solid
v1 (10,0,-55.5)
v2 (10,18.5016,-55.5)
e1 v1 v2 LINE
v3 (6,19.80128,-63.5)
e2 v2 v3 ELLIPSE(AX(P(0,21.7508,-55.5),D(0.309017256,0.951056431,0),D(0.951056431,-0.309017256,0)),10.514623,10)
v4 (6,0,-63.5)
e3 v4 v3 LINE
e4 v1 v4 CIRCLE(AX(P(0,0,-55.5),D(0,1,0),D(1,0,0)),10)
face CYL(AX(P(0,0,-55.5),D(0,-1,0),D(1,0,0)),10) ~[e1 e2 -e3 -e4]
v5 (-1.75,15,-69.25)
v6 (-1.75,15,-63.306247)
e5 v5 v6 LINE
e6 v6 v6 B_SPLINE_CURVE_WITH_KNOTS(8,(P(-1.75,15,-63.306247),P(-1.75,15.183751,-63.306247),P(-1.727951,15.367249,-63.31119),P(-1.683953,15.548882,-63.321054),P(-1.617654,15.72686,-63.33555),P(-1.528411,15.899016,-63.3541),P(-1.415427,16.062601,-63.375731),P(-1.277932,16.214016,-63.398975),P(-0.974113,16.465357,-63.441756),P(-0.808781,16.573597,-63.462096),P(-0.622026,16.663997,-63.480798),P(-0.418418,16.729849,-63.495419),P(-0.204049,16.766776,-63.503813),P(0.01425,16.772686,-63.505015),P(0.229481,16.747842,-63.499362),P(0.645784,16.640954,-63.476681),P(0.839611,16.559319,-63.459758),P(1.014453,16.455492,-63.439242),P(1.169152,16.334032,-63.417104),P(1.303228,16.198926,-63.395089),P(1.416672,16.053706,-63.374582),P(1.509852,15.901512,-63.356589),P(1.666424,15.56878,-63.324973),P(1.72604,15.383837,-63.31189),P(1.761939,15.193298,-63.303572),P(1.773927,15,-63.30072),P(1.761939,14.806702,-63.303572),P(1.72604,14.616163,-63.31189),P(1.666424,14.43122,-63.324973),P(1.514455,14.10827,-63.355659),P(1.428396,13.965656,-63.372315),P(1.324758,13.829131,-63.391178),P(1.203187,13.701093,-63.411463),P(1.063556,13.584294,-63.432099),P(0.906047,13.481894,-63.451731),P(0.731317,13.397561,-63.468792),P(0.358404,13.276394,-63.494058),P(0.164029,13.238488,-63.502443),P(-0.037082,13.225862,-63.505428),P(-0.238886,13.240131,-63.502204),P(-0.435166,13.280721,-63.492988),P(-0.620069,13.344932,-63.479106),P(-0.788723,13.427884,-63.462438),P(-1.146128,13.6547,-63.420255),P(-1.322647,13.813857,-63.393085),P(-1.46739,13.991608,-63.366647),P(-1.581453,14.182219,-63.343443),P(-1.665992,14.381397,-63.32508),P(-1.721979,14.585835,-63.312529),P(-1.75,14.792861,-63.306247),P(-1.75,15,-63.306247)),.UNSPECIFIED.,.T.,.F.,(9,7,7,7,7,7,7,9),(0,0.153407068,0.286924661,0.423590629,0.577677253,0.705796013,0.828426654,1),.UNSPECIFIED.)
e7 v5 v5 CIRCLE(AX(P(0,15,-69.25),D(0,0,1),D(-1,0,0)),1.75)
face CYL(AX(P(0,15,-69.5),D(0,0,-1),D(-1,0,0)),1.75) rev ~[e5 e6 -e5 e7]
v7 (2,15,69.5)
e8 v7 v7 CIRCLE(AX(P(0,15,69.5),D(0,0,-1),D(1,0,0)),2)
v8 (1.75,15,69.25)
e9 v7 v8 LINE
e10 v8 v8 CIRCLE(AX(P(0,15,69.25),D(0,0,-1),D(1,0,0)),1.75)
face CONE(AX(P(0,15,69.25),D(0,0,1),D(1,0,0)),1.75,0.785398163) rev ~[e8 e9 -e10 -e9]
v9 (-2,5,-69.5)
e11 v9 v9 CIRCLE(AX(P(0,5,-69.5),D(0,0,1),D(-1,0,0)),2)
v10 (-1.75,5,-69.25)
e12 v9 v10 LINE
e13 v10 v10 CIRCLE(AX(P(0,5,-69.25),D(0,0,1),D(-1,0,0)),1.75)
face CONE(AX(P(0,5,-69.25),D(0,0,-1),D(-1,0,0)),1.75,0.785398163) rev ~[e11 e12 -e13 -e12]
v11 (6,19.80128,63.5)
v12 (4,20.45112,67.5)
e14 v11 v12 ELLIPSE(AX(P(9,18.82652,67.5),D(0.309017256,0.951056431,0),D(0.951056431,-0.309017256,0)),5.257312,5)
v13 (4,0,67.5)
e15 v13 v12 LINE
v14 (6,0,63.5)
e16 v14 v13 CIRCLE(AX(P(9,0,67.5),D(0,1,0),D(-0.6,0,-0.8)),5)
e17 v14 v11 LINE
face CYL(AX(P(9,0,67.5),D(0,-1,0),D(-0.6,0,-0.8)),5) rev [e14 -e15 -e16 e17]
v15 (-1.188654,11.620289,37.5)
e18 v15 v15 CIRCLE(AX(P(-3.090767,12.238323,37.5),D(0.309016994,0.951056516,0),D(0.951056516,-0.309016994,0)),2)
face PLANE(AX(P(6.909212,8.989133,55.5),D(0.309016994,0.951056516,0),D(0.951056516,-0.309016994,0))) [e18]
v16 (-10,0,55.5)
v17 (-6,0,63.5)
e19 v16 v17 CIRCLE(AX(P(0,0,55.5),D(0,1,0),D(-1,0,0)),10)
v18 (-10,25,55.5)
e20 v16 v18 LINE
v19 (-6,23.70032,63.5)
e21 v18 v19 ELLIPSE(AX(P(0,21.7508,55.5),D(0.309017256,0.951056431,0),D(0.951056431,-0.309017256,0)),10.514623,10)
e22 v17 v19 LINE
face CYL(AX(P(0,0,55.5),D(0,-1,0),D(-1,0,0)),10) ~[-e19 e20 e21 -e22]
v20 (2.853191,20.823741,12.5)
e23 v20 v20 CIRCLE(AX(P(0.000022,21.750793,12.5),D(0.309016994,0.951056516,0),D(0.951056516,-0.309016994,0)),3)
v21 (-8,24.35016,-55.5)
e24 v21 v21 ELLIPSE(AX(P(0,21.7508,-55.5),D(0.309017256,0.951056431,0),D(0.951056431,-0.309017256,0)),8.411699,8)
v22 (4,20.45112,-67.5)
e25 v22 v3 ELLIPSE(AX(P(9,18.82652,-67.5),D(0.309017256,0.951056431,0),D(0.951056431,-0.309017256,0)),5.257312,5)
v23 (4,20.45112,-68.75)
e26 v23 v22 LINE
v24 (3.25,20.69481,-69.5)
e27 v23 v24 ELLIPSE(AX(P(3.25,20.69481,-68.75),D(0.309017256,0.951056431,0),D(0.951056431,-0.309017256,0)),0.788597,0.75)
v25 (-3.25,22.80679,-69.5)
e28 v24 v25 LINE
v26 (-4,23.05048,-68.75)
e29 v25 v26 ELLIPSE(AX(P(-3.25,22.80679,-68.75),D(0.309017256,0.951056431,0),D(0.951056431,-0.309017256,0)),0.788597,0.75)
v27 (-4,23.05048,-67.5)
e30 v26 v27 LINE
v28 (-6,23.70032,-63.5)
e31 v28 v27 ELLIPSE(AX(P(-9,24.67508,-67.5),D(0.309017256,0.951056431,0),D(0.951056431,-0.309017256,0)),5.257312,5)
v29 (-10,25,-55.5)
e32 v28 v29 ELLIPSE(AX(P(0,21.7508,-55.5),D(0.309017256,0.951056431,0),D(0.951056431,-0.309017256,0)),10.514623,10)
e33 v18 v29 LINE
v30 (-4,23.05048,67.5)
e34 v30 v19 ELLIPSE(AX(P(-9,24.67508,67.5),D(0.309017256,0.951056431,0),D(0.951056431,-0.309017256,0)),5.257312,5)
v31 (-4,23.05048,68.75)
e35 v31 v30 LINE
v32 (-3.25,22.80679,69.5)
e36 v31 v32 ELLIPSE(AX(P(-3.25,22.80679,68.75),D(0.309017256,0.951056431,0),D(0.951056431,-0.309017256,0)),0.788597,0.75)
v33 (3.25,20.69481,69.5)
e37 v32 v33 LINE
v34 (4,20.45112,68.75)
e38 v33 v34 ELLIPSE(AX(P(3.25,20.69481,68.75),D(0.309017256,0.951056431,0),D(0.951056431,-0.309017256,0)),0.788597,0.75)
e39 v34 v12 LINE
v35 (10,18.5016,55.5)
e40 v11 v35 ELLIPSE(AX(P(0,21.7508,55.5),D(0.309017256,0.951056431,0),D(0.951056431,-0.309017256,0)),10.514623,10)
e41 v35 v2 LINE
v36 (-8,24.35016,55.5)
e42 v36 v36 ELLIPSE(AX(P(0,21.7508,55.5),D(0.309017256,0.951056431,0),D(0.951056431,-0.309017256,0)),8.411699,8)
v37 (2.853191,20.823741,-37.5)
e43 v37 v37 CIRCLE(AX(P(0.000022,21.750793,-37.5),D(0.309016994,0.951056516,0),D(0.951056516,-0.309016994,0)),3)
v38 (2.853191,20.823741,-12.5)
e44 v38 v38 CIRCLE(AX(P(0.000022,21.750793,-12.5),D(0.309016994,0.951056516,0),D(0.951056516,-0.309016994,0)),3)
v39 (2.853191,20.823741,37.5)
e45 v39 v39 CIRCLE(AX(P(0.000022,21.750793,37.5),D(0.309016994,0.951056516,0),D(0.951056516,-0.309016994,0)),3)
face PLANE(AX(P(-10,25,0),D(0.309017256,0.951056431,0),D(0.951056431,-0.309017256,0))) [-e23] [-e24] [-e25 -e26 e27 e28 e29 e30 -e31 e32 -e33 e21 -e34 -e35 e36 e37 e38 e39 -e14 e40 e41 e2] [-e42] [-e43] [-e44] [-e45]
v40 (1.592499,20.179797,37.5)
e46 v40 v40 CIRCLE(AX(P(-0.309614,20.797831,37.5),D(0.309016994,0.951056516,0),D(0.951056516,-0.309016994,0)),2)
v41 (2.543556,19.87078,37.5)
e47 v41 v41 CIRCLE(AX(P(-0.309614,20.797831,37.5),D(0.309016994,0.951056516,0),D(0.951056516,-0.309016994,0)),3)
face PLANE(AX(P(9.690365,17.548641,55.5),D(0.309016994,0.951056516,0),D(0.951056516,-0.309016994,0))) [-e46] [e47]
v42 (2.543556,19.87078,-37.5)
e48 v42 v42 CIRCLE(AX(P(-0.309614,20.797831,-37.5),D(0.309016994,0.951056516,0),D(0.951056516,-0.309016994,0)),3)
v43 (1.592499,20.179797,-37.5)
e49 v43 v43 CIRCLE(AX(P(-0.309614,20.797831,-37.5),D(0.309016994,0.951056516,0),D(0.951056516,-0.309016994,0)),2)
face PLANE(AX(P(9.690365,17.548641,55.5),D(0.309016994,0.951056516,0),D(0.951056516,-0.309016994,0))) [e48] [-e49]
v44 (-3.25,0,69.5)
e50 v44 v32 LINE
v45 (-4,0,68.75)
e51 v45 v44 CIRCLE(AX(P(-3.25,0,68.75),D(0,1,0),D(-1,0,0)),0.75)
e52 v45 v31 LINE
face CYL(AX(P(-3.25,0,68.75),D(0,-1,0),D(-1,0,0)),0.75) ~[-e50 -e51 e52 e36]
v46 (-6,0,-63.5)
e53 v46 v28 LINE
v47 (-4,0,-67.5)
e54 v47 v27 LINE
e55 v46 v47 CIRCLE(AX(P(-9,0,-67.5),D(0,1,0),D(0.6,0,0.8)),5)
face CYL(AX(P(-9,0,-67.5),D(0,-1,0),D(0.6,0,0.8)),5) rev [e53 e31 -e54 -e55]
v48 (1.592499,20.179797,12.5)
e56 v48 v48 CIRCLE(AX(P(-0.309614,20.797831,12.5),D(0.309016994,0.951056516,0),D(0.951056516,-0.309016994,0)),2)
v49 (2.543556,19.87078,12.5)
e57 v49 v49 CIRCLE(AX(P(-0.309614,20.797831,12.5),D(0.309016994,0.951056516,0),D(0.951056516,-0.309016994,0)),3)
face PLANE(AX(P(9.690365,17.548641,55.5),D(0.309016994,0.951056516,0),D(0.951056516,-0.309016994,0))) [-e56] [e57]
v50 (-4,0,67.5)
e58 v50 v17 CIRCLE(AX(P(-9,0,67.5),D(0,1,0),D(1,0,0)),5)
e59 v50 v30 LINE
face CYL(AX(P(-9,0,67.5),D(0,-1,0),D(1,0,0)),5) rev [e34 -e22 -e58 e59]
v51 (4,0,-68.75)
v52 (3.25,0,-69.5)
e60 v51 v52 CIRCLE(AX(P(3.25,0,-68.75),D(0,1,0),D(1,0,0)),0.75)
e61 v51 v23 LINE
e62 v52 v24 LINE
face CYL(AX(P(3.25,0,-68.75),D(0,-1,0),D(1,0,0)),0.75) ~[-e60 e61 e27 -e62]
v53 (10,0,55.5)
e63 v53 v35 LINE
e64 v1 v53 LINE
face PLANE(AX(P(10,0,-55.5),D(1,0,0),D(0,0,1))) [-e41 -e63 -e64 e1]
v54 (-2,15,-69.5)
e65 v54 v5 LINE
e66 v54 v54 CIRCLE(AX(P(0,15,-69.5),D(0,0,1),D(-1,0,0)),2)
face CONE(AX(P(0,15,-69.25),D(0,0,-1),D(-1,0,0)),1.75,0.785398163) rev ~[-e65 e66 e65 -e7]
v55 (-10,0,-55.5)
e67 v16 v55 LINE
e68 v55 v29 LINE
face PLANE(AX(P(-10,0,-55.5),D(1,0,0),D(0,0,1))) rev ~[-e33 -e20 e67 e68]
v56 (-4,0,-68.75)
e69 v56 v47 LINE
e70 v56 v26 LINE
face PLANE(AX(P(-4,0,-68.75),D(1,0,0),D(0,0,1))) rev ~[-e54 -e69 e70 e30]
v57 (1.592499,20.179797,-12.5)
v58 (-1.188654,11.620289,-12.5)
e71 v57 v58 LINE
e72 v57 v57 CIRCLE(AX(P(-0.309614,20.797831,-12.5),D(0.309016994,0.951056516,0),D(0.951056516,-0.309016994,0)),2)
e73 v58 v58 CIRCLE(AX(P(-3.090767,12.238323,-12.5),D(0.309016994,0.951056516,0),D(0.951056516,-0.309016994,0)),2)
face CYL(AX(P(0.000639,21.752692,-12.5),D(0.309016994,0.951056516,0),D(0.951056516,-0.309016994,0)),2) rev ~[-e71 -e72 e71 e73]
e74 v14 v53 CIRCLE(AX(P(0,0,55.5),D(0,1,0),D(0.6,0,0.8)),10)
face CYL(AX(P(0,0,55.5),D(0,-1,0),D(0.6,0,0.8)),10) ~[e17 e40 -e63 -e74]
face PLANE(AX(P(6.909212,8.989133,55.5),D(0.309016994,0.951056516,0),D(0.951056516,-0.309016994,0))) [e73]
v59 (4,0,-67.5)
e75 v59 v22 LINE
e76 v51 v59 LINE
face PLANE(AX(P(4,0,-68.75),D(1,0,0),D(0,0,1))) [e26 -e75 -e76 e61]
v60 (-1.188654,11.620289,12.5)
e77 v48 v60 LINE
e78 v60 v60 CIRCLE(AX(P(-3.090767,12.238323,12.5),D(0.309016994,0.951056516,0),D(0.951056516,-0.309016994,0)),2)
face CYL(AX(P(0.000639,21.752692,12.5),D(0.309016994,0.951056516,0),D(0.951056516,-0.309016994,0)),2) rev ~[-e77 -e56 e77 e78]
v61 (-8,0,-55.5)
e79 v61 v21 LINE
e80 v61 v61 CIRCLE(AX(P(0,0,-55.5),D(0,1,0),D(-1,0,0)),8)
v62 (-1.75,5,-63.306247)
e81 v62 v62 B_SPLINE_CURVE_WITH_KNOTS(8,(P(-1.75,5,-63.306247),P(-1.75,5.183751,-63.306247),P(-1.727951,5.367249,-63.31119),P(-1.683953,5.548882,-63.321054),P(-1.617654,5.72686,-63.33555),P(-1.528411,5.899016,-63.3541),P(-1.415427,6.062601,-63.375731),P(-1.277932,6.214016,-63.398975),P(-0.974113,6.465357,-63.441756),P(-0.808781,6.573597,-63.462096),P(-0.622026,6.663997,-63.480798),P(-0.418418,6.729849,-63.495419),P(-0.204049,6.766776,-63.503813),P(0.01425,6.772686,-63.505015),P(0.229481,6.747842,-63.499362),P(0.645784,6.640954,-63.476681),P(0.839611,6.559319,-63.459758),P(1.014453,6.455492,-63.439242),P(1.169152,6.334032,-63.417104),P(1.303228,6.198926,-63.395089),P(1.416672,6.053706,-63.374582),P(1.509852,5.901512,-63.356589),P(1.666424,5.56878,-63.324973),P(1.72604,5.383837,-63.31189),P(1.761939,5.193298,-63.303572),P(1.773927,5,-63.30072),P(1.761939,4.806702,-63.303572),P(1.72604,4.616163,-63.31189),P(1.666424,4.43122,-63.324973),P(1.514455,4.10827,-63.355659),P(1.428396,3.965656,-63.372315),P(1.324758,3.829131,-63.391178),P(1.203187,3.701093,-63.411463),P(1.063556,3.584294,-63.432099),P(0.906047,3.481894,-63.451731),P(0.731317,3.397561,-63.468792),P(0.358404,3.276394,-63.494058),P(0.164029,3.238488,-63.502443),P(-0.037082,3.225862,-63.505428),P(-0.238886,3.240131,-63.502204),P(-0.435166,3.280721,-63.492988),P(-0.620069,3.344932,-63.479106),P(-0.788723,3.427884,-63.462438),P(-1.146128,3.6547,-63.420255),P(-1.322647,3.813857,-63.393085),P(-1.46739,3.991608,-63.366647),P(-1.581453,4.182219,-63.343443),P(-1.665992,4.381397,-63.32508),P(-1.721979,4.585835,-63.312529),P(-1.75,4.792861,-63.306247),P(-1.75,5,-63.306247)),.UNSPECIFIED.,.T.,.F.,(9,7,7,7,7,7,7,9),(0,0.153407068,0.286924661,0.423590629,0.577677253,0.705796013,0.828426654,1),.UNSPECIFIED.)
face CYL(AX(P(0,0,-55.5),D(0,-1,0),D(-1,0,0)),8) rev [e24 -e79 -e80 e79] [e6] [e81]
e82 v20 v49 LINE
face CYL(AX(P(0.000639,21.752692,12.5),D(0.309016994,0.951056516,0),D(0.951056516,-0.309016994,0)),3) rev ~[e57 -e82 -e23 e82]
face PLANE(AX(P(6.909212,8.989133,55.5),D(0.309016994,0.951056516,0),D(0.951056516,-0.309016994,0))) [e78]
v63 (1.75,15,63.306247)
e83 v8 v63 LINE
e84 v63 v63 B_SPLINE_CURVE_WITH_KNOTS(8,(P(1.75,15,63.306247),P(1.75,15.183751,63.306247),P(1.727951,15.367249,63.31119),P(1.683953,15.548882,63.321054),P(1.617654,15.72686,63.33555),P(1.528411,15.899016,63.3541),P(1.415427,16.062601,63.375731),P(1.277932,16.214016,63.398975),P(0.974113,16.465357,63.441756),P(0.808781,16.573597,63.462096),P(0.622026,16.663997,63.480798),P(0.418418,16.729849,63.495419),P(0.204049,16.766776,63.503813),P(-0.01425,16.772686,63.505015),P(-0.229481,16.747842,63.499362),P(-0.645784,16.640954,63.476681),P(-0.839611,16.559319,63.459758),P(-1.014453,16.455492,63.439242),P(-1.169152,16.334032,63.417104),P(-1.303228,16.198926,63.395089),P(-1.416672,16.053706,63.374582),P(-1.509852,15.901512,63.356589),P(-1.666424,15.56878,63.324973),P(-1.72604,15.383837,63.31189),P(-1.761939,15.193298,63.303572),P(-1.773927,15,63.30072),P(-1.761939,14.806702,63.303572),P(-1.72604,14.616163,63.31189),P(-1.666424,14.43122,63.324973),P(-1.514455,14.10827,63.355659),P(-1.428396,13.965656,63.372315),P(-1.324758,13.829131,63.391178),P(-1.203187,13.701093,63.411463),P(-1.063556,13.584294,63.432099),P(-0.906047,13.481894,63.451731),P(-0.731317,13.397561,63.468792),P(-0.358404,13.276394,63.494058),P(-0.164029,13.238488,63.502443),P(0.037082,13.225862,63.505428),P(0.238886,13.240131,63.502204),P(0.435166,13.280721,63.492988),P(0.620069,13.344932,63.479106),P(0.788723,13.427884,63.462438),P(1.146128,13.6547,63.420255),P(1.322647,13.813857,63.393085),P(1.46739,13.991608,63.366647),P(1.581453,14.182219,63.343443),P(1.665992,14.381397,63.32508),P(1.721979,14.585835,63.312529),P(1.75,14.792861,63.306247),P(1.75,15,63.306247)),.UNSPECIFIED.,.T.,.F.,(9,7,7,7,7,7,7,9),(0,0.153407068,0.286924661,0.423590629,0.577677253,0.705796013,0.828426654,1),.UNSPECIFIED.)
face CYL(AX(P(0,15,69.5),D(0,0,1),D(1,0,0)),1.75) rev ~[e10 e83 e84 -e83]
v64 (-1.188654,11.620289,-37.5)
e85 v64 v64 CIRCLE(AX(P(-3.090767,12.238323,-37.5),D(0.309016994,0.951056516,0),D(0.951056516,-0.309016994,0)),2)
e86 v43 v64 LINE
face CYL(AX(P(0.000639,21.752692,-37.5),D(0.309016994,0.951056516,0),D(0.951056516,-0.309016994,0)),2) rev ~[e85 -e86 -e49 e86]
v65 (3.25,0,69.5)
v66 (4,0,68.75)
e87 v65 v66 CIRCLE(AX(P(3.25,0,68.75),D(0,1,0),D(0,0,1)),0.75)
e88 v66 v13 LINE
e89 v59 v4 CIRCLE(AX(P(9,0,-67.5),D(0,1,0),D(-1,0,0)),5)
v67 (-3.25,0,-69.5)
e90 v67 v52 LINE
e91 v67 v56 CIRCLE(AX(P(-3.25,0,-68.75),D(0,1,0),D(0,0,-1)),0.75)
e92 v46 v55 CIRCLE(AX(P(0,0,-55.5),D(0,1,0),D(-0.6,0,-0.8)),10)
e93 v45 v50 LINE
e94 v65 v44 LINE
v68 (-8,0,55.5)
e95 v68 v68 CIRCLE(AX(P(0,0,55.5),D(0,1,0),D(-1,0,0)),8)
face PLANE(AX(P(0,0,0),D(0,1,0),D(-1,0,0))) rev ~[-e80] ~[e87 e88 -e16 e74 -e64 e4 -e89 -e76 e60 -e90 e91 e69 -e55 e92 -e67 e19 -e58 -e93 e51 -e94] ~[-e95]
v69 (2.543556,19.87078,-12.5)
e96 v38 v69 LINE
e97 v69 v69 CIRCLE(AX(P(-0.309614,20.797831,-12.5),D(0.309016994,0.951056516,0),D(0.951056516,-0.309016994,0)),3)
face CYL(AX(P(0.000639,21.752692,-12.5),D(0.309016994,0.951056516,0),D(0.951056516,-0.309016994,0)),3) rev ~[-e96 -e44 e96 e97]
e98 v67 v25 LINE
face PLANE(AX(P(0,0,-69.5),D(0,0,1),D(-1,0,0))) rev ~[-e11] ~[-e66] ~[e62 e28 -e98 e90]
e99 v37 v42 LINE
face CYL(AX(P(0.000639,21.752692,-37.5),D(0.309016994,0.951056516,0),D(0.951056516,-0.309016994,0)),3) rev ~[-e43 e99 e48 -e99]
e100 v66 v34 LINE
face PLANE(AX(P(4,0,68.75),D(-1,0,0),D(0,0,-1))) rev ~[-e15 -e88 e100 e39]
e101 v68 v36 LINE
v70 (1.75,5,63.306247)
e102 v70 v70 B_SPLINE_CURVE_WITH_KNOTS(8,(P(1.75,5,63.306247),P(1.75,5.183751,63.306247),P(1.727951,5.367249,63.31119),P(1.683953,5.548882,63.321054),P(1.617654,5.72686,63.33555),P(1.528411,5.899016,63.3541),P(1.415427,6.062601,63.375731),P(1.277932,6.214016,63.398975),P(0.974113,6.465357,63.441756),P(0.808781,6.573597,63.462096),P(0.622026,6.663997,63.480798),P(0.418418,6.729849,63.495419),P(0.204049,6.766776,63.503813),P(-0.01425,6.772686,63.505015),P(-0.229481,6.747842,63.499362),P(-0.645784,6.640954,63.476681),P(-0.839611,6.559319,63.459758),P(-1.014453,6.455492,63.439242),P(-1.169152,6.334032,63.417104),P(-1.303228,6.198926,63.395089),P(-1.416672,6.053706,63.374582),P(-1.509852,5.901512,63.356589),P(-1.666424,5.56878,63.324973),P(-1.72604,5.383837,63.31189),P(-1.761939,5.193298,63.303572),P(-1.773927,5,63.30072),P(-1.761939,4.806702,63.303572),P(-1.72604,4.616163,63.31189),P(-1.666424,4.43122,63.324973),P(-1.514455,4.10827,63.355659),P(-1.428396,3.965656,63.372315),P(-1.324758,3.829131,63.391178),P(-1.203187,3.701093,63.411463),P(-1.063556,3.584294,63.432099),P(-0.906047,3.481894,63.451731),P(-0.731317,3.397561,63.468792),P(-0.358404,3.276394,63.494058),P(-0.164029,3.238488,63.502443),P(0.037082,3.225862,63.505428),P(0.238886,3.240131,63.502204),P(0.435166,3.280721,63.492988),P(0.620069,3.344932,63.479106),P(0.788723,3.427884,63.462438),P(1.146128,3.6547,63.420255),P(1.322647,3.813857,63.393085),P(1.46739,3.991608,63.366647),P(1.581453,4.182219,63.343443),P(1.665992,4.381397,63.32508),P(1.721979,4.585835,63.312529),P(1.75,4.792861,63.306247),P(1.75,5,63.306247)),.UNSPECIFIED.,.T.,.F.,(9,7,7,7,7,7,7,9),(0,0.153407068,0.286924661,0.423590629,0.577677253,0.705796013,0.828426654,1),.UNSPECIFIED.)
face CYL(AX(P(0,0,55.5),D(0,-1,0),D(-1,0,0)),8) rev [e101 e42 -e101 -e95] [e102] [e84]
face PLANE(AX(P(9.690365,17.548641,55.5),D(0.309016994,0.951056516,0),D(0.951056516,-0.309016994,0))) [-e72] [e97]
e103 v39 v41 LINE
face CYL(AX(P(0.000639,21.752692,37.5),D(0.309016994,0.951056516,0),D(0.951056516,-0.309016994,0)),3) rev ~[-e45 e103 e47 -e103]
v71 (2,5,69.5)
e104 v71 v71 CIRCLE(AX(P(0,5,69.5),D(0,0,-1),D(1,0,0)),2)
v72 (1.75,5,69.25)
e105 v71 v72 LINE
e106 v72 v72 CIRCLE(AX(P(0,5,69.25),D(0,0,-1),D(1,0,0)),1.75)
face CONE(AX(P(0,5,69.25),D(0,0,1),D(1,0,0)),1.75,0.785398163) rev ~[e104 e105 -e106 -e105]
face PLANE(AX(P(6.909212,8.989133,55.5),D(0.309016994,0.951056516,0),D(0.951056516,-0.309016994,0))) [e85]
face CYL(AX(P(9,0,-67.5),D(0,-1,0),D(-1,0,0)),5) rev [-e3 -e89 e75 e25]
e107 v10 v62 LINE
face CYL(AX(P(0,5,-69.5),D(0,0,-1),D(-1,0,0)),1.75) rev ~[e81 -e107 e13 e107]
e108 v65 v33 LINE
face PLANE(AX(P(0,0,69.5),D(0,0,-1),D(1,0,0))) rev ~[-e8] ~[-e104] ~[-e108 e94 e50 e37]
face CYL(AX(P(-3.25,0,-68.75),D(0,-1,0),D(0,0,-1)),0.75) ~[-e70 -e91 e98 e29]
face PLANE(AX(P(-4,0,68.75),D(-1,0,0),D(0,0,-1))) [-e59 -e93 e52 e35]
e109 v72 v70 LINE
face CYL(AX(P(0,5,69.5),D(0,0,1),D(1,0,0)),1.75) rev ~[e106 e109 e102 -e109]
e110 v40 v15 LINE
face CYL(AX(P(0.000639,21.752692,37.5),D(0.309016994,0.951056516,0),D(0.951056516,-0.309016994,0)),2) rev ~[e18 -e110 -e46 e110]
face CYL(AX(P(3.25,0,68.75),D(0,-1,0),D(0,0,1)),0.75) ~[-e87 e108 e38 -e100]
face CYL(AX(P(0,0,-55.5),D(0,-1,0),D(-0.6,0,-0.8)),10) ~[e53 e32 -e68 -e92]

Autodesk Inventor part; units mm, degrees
ref_plane "YZ Plane" through (0, 0, 0) normal (1, 0, 0) x (0, 1, 0)
ref_plane "XZ Plane" through (0, 0, 0) normal (0, 1, 0) x (-1, 0, 0)
ref_plane "XY Plane" through (0, 0, 0) normal (0, 0, 1) x (1, 0, 0)
sketch "Sketch1" plane through (0, 0, 0) normal (0, 1, 0) x (-1, 0, 0)
  line L0 (0, 0) -> (0, -55.5) construction
  circle A0 centre (0, -55.5) radius 8
  line L1 (0, 0) -> (10, 0) construction
  line L2 (0, 0) -> (-10, 0) construction
  line L3 (10, -55.5) -> (10, 0)
  line L4 (-10, -55.5) -> (-10, 0)
  line L5 (0, 0) -> (0, -12.5) construction
  line L6 (0, -12.5) -> (0, -37.5) construction
  line L7 (0, -65.5) -> (0, -69.5) construction
  line L8 (0, -69.5) -> (3.25, -69.5)
  line L9 (4, -68.75) -> (4, -67.5)
  line L10 (0, -69.5) -> (-3.25, -69.5)
  line L11 (-4, -68.75) -> (-4, -67.5)
  arc A1 (-10, -55.5) -> (-6, -63.5) centre (0, -55.5) ccw
  arc A2 (6, -63.5) -> (10, -55.5) centre (0, -55.5) ccw
  arc A3 (6, -63.5) -> (4, -67.5) centre (9, -67.5) ccw
  arc A4 (-4, -67.5) -> (-6, -63.5) centre (-9, -67.5) ccw
  arc A5 (-4, -68.75) -> (-3.25, -69.5) centre (-3.25, -68.75) ccw
  arc A6 (3.25, -69.5) -> (4, -68.75) centre (3.25, -68.75) ccw
  line L12 (0, 0) -> (0, 55.5) construction
  circle A7 centre (0, 55.5) radius 8
  line L13 (10, 55.5) -> (10, 0)
  line L14 (-10, 55.5) -> (-10, 0)
  line L15 (0, 0) -> (0, 12.5) construction
  line L16 (0, 12.5) -> (0, 37.5) construction
  line L17 (0, 65.5) -> (0, 69.5) construction
  line L18 (0, 69.5) -> (3.25, 69.5)
  line L19 (4, 68.75) -> (4, 67.5)
  line L20 (0, 69.5) -> (-3.25, 69.5)
  line L21 (-4, 68.75) -> (-4, 67.5)
  arc A8 (-6, 63.5) -> (-10, 55.5) centre (0, 55.5) ccw
  arc A9 (10, 55.5) -> (6, 63.5) centre (0, 55.5) ccw
  arc A10 (4, 67.5) -> (6, 63.5) centre (9, 67.5) ccw
  arc A11 (-6, 63.5) -> (-4, 67.5) centre (-9, 67.5) ccw
  arc A12 (-3.25, 69.5) -> (-4, 68.75) centre (-3.25, 68.75) ccw
  arc A13 (4, 68.75) -> (3.25, 69.5) centre (3.25, 68.75) ccw
  point P0 (4, -69.5)
  point P1 (4, -64.6652)
  point P2 (-4, -69.5)
  point P3 (-4, -64.6652)
  point P4 (4, 69.5)
  point P5 (4, 64.6652)
  point P6 (-4, 69.5)
  point P7 (-4, 64.6652)
  dimension "d0" = 55.5
  dimension "d1" = 16
  dimension "d3" = 10
  dimension "d4" = 10
  dimension "d6" = 12.5
  dimension "d7" = 25
  dimension "d10" = 4
  dimension "d11" = 4
  dimension "d12" = 4
  dimension "d13" = 5
  dimension "d14" = 0.75
extrude "Extrusion1" add sketch "Sketch1" along normal blind 25
sketch "Sketch2" plane through (0, 0, 0) normal (0, 0, 1) x (1, 0, 0)
  line L0 (-10, 25) -> (10, 18.5016)
  line L1 (10, 0) -> (10, 25) projected
  line L2 (-10, 25) -> (11.0292, 25) construction
  line L3 (10, 18.5016) -> (10, 25)
  line L4 (10, 25) -> (-10, 25)
  point P0 (0, 0)
  dimension "d17" = 18
extrude "Extrusion2" cut sketch "Sketch2" along normal through all both and the other way through all
sketch "Sketch3" plane through (10, 18.5016, 55.5) normal (0.309, 0.9511, 0) x (0.9511, -0.309, 0)
  ellipse E0 centre (-10.5146, 0) end of major axis (-2.1029, 0) minor radius 8 projected
  ellipse E1 centre (-10.5146, 111) end of major axis (-2.1029, 111) minor radius 8 projected
  line L0 (-10.5146, 0) -> (-10.5146, 111) construction
  line L1 (-10.5146, 55.5) -> (-10.5146, 43)
  line L2 (-10.5146, 43) -> (-10.5146, 18)
  line L3 (-10.5146, 55.5) -> (-10.5146, 68)
  line L4 (-10.5146, 68) -> (-10.5146, 93)
  circle A0 centre (-10.5146, 18) radius 2
  circle A1 centre (-10.5146, 43) radius 2
  circle A2 centre (-10.5146, 68) radius 2
  circle A3 centre (-10.5146, 93) radius 2
  point P0 (-3.7933, 55.5)
  dimension "d20" = 12.5
  dimension "d21" = 25
  dimension "d22" = 12.5
  dimension "d23" = 25
  dimension "d24" = 4
  dimension "d25" = 4
  dimension "d26" = 4
  dimension "d27" = 4
extrude "Extrusion3" cut sketch "Sketch3" against normal blind 10 contours A0 | A1 L2 L1 | L1 L2 A1 | A3 | A2 L4 L3 | L3 L4 A2
sketch "Sketch4" plane through (10, 18.5016, 55.5) normal (0.309, 0.9511, 0) x (0.9511, -0.309, 0)
  circle A0 centre (-10.5146, 18) radius 2 projected
  circle A1 centre (-10.5146, 18) radius 3
  circle A2 centre (-10.5146, 43) radius 2 projected
  circle A3 centre (-10.5146, 43) radius 3
  circle A4 centre (-10.5146, 68) radius 2 projected
  circle A5 centre (-10.5146, 68) radius 3
  circle A6 centre (-10.5146, 93) radius 2 projected
  circle A7 centre (-10.5146, 93) radius 3
  point P0 (-3.7933, 55.5)
  dimension "d30" = 6
  dimension "d31" = 6
  dimension "d32" = 6
  dimension "d33" = 6
extrude "Extrusion4" cut sketch "Sketch4" against normal blind 1
sketch "Sketch5" plane through (-3.25, 0, 69.5) normal (0, 0, 1) x (1, 0, 0)
  line L0 (3.25, 0) -> (3.25, 5)
  line L1 (3.25, 5) -> (3.25, 15)
  circle A0 centre (3.25, 15) radius 1.75
  circle A1 centre (3.25, 5) radius 1.75
  dimension "d36" = 5
  dimension "d37" = 10
  dimension "d38" = 3.5
  dimension "d39" = 3.5
extrude "Extrusion5" cut sketch "Sketch5" against normal blind 7.5
sketch "Sketch6" plane through (3.25, 0, -69.5) normal (0, 0, -1) x (-1, 0, 0)
  line L0 (3.25, 0) -> (3.25, 5)
  line L1 (3.25, 5) -> (3.25, 15)
  circle A0 centre (3.25, 15) radius 1.75
  circle A1 centre (3.25, 5) radius 1.75
  dimension "d42" = 5
  dimension "d43" = 10
  dimension "d44" = 3.5
  dimension "d45" = 3.5
extrude "Extrusion6" cut sketch "Sketch6" against normal blind 7.5
chamfer "Chamfer1" distance 0.25 angle 45 4 edges at (1.75, 5, -69.5) (1.75, 15, -69.5) (-1.75, 15, 69.5) (-1.75, 5, 69.5)
properties part number "Leg_Battery_Connector"
